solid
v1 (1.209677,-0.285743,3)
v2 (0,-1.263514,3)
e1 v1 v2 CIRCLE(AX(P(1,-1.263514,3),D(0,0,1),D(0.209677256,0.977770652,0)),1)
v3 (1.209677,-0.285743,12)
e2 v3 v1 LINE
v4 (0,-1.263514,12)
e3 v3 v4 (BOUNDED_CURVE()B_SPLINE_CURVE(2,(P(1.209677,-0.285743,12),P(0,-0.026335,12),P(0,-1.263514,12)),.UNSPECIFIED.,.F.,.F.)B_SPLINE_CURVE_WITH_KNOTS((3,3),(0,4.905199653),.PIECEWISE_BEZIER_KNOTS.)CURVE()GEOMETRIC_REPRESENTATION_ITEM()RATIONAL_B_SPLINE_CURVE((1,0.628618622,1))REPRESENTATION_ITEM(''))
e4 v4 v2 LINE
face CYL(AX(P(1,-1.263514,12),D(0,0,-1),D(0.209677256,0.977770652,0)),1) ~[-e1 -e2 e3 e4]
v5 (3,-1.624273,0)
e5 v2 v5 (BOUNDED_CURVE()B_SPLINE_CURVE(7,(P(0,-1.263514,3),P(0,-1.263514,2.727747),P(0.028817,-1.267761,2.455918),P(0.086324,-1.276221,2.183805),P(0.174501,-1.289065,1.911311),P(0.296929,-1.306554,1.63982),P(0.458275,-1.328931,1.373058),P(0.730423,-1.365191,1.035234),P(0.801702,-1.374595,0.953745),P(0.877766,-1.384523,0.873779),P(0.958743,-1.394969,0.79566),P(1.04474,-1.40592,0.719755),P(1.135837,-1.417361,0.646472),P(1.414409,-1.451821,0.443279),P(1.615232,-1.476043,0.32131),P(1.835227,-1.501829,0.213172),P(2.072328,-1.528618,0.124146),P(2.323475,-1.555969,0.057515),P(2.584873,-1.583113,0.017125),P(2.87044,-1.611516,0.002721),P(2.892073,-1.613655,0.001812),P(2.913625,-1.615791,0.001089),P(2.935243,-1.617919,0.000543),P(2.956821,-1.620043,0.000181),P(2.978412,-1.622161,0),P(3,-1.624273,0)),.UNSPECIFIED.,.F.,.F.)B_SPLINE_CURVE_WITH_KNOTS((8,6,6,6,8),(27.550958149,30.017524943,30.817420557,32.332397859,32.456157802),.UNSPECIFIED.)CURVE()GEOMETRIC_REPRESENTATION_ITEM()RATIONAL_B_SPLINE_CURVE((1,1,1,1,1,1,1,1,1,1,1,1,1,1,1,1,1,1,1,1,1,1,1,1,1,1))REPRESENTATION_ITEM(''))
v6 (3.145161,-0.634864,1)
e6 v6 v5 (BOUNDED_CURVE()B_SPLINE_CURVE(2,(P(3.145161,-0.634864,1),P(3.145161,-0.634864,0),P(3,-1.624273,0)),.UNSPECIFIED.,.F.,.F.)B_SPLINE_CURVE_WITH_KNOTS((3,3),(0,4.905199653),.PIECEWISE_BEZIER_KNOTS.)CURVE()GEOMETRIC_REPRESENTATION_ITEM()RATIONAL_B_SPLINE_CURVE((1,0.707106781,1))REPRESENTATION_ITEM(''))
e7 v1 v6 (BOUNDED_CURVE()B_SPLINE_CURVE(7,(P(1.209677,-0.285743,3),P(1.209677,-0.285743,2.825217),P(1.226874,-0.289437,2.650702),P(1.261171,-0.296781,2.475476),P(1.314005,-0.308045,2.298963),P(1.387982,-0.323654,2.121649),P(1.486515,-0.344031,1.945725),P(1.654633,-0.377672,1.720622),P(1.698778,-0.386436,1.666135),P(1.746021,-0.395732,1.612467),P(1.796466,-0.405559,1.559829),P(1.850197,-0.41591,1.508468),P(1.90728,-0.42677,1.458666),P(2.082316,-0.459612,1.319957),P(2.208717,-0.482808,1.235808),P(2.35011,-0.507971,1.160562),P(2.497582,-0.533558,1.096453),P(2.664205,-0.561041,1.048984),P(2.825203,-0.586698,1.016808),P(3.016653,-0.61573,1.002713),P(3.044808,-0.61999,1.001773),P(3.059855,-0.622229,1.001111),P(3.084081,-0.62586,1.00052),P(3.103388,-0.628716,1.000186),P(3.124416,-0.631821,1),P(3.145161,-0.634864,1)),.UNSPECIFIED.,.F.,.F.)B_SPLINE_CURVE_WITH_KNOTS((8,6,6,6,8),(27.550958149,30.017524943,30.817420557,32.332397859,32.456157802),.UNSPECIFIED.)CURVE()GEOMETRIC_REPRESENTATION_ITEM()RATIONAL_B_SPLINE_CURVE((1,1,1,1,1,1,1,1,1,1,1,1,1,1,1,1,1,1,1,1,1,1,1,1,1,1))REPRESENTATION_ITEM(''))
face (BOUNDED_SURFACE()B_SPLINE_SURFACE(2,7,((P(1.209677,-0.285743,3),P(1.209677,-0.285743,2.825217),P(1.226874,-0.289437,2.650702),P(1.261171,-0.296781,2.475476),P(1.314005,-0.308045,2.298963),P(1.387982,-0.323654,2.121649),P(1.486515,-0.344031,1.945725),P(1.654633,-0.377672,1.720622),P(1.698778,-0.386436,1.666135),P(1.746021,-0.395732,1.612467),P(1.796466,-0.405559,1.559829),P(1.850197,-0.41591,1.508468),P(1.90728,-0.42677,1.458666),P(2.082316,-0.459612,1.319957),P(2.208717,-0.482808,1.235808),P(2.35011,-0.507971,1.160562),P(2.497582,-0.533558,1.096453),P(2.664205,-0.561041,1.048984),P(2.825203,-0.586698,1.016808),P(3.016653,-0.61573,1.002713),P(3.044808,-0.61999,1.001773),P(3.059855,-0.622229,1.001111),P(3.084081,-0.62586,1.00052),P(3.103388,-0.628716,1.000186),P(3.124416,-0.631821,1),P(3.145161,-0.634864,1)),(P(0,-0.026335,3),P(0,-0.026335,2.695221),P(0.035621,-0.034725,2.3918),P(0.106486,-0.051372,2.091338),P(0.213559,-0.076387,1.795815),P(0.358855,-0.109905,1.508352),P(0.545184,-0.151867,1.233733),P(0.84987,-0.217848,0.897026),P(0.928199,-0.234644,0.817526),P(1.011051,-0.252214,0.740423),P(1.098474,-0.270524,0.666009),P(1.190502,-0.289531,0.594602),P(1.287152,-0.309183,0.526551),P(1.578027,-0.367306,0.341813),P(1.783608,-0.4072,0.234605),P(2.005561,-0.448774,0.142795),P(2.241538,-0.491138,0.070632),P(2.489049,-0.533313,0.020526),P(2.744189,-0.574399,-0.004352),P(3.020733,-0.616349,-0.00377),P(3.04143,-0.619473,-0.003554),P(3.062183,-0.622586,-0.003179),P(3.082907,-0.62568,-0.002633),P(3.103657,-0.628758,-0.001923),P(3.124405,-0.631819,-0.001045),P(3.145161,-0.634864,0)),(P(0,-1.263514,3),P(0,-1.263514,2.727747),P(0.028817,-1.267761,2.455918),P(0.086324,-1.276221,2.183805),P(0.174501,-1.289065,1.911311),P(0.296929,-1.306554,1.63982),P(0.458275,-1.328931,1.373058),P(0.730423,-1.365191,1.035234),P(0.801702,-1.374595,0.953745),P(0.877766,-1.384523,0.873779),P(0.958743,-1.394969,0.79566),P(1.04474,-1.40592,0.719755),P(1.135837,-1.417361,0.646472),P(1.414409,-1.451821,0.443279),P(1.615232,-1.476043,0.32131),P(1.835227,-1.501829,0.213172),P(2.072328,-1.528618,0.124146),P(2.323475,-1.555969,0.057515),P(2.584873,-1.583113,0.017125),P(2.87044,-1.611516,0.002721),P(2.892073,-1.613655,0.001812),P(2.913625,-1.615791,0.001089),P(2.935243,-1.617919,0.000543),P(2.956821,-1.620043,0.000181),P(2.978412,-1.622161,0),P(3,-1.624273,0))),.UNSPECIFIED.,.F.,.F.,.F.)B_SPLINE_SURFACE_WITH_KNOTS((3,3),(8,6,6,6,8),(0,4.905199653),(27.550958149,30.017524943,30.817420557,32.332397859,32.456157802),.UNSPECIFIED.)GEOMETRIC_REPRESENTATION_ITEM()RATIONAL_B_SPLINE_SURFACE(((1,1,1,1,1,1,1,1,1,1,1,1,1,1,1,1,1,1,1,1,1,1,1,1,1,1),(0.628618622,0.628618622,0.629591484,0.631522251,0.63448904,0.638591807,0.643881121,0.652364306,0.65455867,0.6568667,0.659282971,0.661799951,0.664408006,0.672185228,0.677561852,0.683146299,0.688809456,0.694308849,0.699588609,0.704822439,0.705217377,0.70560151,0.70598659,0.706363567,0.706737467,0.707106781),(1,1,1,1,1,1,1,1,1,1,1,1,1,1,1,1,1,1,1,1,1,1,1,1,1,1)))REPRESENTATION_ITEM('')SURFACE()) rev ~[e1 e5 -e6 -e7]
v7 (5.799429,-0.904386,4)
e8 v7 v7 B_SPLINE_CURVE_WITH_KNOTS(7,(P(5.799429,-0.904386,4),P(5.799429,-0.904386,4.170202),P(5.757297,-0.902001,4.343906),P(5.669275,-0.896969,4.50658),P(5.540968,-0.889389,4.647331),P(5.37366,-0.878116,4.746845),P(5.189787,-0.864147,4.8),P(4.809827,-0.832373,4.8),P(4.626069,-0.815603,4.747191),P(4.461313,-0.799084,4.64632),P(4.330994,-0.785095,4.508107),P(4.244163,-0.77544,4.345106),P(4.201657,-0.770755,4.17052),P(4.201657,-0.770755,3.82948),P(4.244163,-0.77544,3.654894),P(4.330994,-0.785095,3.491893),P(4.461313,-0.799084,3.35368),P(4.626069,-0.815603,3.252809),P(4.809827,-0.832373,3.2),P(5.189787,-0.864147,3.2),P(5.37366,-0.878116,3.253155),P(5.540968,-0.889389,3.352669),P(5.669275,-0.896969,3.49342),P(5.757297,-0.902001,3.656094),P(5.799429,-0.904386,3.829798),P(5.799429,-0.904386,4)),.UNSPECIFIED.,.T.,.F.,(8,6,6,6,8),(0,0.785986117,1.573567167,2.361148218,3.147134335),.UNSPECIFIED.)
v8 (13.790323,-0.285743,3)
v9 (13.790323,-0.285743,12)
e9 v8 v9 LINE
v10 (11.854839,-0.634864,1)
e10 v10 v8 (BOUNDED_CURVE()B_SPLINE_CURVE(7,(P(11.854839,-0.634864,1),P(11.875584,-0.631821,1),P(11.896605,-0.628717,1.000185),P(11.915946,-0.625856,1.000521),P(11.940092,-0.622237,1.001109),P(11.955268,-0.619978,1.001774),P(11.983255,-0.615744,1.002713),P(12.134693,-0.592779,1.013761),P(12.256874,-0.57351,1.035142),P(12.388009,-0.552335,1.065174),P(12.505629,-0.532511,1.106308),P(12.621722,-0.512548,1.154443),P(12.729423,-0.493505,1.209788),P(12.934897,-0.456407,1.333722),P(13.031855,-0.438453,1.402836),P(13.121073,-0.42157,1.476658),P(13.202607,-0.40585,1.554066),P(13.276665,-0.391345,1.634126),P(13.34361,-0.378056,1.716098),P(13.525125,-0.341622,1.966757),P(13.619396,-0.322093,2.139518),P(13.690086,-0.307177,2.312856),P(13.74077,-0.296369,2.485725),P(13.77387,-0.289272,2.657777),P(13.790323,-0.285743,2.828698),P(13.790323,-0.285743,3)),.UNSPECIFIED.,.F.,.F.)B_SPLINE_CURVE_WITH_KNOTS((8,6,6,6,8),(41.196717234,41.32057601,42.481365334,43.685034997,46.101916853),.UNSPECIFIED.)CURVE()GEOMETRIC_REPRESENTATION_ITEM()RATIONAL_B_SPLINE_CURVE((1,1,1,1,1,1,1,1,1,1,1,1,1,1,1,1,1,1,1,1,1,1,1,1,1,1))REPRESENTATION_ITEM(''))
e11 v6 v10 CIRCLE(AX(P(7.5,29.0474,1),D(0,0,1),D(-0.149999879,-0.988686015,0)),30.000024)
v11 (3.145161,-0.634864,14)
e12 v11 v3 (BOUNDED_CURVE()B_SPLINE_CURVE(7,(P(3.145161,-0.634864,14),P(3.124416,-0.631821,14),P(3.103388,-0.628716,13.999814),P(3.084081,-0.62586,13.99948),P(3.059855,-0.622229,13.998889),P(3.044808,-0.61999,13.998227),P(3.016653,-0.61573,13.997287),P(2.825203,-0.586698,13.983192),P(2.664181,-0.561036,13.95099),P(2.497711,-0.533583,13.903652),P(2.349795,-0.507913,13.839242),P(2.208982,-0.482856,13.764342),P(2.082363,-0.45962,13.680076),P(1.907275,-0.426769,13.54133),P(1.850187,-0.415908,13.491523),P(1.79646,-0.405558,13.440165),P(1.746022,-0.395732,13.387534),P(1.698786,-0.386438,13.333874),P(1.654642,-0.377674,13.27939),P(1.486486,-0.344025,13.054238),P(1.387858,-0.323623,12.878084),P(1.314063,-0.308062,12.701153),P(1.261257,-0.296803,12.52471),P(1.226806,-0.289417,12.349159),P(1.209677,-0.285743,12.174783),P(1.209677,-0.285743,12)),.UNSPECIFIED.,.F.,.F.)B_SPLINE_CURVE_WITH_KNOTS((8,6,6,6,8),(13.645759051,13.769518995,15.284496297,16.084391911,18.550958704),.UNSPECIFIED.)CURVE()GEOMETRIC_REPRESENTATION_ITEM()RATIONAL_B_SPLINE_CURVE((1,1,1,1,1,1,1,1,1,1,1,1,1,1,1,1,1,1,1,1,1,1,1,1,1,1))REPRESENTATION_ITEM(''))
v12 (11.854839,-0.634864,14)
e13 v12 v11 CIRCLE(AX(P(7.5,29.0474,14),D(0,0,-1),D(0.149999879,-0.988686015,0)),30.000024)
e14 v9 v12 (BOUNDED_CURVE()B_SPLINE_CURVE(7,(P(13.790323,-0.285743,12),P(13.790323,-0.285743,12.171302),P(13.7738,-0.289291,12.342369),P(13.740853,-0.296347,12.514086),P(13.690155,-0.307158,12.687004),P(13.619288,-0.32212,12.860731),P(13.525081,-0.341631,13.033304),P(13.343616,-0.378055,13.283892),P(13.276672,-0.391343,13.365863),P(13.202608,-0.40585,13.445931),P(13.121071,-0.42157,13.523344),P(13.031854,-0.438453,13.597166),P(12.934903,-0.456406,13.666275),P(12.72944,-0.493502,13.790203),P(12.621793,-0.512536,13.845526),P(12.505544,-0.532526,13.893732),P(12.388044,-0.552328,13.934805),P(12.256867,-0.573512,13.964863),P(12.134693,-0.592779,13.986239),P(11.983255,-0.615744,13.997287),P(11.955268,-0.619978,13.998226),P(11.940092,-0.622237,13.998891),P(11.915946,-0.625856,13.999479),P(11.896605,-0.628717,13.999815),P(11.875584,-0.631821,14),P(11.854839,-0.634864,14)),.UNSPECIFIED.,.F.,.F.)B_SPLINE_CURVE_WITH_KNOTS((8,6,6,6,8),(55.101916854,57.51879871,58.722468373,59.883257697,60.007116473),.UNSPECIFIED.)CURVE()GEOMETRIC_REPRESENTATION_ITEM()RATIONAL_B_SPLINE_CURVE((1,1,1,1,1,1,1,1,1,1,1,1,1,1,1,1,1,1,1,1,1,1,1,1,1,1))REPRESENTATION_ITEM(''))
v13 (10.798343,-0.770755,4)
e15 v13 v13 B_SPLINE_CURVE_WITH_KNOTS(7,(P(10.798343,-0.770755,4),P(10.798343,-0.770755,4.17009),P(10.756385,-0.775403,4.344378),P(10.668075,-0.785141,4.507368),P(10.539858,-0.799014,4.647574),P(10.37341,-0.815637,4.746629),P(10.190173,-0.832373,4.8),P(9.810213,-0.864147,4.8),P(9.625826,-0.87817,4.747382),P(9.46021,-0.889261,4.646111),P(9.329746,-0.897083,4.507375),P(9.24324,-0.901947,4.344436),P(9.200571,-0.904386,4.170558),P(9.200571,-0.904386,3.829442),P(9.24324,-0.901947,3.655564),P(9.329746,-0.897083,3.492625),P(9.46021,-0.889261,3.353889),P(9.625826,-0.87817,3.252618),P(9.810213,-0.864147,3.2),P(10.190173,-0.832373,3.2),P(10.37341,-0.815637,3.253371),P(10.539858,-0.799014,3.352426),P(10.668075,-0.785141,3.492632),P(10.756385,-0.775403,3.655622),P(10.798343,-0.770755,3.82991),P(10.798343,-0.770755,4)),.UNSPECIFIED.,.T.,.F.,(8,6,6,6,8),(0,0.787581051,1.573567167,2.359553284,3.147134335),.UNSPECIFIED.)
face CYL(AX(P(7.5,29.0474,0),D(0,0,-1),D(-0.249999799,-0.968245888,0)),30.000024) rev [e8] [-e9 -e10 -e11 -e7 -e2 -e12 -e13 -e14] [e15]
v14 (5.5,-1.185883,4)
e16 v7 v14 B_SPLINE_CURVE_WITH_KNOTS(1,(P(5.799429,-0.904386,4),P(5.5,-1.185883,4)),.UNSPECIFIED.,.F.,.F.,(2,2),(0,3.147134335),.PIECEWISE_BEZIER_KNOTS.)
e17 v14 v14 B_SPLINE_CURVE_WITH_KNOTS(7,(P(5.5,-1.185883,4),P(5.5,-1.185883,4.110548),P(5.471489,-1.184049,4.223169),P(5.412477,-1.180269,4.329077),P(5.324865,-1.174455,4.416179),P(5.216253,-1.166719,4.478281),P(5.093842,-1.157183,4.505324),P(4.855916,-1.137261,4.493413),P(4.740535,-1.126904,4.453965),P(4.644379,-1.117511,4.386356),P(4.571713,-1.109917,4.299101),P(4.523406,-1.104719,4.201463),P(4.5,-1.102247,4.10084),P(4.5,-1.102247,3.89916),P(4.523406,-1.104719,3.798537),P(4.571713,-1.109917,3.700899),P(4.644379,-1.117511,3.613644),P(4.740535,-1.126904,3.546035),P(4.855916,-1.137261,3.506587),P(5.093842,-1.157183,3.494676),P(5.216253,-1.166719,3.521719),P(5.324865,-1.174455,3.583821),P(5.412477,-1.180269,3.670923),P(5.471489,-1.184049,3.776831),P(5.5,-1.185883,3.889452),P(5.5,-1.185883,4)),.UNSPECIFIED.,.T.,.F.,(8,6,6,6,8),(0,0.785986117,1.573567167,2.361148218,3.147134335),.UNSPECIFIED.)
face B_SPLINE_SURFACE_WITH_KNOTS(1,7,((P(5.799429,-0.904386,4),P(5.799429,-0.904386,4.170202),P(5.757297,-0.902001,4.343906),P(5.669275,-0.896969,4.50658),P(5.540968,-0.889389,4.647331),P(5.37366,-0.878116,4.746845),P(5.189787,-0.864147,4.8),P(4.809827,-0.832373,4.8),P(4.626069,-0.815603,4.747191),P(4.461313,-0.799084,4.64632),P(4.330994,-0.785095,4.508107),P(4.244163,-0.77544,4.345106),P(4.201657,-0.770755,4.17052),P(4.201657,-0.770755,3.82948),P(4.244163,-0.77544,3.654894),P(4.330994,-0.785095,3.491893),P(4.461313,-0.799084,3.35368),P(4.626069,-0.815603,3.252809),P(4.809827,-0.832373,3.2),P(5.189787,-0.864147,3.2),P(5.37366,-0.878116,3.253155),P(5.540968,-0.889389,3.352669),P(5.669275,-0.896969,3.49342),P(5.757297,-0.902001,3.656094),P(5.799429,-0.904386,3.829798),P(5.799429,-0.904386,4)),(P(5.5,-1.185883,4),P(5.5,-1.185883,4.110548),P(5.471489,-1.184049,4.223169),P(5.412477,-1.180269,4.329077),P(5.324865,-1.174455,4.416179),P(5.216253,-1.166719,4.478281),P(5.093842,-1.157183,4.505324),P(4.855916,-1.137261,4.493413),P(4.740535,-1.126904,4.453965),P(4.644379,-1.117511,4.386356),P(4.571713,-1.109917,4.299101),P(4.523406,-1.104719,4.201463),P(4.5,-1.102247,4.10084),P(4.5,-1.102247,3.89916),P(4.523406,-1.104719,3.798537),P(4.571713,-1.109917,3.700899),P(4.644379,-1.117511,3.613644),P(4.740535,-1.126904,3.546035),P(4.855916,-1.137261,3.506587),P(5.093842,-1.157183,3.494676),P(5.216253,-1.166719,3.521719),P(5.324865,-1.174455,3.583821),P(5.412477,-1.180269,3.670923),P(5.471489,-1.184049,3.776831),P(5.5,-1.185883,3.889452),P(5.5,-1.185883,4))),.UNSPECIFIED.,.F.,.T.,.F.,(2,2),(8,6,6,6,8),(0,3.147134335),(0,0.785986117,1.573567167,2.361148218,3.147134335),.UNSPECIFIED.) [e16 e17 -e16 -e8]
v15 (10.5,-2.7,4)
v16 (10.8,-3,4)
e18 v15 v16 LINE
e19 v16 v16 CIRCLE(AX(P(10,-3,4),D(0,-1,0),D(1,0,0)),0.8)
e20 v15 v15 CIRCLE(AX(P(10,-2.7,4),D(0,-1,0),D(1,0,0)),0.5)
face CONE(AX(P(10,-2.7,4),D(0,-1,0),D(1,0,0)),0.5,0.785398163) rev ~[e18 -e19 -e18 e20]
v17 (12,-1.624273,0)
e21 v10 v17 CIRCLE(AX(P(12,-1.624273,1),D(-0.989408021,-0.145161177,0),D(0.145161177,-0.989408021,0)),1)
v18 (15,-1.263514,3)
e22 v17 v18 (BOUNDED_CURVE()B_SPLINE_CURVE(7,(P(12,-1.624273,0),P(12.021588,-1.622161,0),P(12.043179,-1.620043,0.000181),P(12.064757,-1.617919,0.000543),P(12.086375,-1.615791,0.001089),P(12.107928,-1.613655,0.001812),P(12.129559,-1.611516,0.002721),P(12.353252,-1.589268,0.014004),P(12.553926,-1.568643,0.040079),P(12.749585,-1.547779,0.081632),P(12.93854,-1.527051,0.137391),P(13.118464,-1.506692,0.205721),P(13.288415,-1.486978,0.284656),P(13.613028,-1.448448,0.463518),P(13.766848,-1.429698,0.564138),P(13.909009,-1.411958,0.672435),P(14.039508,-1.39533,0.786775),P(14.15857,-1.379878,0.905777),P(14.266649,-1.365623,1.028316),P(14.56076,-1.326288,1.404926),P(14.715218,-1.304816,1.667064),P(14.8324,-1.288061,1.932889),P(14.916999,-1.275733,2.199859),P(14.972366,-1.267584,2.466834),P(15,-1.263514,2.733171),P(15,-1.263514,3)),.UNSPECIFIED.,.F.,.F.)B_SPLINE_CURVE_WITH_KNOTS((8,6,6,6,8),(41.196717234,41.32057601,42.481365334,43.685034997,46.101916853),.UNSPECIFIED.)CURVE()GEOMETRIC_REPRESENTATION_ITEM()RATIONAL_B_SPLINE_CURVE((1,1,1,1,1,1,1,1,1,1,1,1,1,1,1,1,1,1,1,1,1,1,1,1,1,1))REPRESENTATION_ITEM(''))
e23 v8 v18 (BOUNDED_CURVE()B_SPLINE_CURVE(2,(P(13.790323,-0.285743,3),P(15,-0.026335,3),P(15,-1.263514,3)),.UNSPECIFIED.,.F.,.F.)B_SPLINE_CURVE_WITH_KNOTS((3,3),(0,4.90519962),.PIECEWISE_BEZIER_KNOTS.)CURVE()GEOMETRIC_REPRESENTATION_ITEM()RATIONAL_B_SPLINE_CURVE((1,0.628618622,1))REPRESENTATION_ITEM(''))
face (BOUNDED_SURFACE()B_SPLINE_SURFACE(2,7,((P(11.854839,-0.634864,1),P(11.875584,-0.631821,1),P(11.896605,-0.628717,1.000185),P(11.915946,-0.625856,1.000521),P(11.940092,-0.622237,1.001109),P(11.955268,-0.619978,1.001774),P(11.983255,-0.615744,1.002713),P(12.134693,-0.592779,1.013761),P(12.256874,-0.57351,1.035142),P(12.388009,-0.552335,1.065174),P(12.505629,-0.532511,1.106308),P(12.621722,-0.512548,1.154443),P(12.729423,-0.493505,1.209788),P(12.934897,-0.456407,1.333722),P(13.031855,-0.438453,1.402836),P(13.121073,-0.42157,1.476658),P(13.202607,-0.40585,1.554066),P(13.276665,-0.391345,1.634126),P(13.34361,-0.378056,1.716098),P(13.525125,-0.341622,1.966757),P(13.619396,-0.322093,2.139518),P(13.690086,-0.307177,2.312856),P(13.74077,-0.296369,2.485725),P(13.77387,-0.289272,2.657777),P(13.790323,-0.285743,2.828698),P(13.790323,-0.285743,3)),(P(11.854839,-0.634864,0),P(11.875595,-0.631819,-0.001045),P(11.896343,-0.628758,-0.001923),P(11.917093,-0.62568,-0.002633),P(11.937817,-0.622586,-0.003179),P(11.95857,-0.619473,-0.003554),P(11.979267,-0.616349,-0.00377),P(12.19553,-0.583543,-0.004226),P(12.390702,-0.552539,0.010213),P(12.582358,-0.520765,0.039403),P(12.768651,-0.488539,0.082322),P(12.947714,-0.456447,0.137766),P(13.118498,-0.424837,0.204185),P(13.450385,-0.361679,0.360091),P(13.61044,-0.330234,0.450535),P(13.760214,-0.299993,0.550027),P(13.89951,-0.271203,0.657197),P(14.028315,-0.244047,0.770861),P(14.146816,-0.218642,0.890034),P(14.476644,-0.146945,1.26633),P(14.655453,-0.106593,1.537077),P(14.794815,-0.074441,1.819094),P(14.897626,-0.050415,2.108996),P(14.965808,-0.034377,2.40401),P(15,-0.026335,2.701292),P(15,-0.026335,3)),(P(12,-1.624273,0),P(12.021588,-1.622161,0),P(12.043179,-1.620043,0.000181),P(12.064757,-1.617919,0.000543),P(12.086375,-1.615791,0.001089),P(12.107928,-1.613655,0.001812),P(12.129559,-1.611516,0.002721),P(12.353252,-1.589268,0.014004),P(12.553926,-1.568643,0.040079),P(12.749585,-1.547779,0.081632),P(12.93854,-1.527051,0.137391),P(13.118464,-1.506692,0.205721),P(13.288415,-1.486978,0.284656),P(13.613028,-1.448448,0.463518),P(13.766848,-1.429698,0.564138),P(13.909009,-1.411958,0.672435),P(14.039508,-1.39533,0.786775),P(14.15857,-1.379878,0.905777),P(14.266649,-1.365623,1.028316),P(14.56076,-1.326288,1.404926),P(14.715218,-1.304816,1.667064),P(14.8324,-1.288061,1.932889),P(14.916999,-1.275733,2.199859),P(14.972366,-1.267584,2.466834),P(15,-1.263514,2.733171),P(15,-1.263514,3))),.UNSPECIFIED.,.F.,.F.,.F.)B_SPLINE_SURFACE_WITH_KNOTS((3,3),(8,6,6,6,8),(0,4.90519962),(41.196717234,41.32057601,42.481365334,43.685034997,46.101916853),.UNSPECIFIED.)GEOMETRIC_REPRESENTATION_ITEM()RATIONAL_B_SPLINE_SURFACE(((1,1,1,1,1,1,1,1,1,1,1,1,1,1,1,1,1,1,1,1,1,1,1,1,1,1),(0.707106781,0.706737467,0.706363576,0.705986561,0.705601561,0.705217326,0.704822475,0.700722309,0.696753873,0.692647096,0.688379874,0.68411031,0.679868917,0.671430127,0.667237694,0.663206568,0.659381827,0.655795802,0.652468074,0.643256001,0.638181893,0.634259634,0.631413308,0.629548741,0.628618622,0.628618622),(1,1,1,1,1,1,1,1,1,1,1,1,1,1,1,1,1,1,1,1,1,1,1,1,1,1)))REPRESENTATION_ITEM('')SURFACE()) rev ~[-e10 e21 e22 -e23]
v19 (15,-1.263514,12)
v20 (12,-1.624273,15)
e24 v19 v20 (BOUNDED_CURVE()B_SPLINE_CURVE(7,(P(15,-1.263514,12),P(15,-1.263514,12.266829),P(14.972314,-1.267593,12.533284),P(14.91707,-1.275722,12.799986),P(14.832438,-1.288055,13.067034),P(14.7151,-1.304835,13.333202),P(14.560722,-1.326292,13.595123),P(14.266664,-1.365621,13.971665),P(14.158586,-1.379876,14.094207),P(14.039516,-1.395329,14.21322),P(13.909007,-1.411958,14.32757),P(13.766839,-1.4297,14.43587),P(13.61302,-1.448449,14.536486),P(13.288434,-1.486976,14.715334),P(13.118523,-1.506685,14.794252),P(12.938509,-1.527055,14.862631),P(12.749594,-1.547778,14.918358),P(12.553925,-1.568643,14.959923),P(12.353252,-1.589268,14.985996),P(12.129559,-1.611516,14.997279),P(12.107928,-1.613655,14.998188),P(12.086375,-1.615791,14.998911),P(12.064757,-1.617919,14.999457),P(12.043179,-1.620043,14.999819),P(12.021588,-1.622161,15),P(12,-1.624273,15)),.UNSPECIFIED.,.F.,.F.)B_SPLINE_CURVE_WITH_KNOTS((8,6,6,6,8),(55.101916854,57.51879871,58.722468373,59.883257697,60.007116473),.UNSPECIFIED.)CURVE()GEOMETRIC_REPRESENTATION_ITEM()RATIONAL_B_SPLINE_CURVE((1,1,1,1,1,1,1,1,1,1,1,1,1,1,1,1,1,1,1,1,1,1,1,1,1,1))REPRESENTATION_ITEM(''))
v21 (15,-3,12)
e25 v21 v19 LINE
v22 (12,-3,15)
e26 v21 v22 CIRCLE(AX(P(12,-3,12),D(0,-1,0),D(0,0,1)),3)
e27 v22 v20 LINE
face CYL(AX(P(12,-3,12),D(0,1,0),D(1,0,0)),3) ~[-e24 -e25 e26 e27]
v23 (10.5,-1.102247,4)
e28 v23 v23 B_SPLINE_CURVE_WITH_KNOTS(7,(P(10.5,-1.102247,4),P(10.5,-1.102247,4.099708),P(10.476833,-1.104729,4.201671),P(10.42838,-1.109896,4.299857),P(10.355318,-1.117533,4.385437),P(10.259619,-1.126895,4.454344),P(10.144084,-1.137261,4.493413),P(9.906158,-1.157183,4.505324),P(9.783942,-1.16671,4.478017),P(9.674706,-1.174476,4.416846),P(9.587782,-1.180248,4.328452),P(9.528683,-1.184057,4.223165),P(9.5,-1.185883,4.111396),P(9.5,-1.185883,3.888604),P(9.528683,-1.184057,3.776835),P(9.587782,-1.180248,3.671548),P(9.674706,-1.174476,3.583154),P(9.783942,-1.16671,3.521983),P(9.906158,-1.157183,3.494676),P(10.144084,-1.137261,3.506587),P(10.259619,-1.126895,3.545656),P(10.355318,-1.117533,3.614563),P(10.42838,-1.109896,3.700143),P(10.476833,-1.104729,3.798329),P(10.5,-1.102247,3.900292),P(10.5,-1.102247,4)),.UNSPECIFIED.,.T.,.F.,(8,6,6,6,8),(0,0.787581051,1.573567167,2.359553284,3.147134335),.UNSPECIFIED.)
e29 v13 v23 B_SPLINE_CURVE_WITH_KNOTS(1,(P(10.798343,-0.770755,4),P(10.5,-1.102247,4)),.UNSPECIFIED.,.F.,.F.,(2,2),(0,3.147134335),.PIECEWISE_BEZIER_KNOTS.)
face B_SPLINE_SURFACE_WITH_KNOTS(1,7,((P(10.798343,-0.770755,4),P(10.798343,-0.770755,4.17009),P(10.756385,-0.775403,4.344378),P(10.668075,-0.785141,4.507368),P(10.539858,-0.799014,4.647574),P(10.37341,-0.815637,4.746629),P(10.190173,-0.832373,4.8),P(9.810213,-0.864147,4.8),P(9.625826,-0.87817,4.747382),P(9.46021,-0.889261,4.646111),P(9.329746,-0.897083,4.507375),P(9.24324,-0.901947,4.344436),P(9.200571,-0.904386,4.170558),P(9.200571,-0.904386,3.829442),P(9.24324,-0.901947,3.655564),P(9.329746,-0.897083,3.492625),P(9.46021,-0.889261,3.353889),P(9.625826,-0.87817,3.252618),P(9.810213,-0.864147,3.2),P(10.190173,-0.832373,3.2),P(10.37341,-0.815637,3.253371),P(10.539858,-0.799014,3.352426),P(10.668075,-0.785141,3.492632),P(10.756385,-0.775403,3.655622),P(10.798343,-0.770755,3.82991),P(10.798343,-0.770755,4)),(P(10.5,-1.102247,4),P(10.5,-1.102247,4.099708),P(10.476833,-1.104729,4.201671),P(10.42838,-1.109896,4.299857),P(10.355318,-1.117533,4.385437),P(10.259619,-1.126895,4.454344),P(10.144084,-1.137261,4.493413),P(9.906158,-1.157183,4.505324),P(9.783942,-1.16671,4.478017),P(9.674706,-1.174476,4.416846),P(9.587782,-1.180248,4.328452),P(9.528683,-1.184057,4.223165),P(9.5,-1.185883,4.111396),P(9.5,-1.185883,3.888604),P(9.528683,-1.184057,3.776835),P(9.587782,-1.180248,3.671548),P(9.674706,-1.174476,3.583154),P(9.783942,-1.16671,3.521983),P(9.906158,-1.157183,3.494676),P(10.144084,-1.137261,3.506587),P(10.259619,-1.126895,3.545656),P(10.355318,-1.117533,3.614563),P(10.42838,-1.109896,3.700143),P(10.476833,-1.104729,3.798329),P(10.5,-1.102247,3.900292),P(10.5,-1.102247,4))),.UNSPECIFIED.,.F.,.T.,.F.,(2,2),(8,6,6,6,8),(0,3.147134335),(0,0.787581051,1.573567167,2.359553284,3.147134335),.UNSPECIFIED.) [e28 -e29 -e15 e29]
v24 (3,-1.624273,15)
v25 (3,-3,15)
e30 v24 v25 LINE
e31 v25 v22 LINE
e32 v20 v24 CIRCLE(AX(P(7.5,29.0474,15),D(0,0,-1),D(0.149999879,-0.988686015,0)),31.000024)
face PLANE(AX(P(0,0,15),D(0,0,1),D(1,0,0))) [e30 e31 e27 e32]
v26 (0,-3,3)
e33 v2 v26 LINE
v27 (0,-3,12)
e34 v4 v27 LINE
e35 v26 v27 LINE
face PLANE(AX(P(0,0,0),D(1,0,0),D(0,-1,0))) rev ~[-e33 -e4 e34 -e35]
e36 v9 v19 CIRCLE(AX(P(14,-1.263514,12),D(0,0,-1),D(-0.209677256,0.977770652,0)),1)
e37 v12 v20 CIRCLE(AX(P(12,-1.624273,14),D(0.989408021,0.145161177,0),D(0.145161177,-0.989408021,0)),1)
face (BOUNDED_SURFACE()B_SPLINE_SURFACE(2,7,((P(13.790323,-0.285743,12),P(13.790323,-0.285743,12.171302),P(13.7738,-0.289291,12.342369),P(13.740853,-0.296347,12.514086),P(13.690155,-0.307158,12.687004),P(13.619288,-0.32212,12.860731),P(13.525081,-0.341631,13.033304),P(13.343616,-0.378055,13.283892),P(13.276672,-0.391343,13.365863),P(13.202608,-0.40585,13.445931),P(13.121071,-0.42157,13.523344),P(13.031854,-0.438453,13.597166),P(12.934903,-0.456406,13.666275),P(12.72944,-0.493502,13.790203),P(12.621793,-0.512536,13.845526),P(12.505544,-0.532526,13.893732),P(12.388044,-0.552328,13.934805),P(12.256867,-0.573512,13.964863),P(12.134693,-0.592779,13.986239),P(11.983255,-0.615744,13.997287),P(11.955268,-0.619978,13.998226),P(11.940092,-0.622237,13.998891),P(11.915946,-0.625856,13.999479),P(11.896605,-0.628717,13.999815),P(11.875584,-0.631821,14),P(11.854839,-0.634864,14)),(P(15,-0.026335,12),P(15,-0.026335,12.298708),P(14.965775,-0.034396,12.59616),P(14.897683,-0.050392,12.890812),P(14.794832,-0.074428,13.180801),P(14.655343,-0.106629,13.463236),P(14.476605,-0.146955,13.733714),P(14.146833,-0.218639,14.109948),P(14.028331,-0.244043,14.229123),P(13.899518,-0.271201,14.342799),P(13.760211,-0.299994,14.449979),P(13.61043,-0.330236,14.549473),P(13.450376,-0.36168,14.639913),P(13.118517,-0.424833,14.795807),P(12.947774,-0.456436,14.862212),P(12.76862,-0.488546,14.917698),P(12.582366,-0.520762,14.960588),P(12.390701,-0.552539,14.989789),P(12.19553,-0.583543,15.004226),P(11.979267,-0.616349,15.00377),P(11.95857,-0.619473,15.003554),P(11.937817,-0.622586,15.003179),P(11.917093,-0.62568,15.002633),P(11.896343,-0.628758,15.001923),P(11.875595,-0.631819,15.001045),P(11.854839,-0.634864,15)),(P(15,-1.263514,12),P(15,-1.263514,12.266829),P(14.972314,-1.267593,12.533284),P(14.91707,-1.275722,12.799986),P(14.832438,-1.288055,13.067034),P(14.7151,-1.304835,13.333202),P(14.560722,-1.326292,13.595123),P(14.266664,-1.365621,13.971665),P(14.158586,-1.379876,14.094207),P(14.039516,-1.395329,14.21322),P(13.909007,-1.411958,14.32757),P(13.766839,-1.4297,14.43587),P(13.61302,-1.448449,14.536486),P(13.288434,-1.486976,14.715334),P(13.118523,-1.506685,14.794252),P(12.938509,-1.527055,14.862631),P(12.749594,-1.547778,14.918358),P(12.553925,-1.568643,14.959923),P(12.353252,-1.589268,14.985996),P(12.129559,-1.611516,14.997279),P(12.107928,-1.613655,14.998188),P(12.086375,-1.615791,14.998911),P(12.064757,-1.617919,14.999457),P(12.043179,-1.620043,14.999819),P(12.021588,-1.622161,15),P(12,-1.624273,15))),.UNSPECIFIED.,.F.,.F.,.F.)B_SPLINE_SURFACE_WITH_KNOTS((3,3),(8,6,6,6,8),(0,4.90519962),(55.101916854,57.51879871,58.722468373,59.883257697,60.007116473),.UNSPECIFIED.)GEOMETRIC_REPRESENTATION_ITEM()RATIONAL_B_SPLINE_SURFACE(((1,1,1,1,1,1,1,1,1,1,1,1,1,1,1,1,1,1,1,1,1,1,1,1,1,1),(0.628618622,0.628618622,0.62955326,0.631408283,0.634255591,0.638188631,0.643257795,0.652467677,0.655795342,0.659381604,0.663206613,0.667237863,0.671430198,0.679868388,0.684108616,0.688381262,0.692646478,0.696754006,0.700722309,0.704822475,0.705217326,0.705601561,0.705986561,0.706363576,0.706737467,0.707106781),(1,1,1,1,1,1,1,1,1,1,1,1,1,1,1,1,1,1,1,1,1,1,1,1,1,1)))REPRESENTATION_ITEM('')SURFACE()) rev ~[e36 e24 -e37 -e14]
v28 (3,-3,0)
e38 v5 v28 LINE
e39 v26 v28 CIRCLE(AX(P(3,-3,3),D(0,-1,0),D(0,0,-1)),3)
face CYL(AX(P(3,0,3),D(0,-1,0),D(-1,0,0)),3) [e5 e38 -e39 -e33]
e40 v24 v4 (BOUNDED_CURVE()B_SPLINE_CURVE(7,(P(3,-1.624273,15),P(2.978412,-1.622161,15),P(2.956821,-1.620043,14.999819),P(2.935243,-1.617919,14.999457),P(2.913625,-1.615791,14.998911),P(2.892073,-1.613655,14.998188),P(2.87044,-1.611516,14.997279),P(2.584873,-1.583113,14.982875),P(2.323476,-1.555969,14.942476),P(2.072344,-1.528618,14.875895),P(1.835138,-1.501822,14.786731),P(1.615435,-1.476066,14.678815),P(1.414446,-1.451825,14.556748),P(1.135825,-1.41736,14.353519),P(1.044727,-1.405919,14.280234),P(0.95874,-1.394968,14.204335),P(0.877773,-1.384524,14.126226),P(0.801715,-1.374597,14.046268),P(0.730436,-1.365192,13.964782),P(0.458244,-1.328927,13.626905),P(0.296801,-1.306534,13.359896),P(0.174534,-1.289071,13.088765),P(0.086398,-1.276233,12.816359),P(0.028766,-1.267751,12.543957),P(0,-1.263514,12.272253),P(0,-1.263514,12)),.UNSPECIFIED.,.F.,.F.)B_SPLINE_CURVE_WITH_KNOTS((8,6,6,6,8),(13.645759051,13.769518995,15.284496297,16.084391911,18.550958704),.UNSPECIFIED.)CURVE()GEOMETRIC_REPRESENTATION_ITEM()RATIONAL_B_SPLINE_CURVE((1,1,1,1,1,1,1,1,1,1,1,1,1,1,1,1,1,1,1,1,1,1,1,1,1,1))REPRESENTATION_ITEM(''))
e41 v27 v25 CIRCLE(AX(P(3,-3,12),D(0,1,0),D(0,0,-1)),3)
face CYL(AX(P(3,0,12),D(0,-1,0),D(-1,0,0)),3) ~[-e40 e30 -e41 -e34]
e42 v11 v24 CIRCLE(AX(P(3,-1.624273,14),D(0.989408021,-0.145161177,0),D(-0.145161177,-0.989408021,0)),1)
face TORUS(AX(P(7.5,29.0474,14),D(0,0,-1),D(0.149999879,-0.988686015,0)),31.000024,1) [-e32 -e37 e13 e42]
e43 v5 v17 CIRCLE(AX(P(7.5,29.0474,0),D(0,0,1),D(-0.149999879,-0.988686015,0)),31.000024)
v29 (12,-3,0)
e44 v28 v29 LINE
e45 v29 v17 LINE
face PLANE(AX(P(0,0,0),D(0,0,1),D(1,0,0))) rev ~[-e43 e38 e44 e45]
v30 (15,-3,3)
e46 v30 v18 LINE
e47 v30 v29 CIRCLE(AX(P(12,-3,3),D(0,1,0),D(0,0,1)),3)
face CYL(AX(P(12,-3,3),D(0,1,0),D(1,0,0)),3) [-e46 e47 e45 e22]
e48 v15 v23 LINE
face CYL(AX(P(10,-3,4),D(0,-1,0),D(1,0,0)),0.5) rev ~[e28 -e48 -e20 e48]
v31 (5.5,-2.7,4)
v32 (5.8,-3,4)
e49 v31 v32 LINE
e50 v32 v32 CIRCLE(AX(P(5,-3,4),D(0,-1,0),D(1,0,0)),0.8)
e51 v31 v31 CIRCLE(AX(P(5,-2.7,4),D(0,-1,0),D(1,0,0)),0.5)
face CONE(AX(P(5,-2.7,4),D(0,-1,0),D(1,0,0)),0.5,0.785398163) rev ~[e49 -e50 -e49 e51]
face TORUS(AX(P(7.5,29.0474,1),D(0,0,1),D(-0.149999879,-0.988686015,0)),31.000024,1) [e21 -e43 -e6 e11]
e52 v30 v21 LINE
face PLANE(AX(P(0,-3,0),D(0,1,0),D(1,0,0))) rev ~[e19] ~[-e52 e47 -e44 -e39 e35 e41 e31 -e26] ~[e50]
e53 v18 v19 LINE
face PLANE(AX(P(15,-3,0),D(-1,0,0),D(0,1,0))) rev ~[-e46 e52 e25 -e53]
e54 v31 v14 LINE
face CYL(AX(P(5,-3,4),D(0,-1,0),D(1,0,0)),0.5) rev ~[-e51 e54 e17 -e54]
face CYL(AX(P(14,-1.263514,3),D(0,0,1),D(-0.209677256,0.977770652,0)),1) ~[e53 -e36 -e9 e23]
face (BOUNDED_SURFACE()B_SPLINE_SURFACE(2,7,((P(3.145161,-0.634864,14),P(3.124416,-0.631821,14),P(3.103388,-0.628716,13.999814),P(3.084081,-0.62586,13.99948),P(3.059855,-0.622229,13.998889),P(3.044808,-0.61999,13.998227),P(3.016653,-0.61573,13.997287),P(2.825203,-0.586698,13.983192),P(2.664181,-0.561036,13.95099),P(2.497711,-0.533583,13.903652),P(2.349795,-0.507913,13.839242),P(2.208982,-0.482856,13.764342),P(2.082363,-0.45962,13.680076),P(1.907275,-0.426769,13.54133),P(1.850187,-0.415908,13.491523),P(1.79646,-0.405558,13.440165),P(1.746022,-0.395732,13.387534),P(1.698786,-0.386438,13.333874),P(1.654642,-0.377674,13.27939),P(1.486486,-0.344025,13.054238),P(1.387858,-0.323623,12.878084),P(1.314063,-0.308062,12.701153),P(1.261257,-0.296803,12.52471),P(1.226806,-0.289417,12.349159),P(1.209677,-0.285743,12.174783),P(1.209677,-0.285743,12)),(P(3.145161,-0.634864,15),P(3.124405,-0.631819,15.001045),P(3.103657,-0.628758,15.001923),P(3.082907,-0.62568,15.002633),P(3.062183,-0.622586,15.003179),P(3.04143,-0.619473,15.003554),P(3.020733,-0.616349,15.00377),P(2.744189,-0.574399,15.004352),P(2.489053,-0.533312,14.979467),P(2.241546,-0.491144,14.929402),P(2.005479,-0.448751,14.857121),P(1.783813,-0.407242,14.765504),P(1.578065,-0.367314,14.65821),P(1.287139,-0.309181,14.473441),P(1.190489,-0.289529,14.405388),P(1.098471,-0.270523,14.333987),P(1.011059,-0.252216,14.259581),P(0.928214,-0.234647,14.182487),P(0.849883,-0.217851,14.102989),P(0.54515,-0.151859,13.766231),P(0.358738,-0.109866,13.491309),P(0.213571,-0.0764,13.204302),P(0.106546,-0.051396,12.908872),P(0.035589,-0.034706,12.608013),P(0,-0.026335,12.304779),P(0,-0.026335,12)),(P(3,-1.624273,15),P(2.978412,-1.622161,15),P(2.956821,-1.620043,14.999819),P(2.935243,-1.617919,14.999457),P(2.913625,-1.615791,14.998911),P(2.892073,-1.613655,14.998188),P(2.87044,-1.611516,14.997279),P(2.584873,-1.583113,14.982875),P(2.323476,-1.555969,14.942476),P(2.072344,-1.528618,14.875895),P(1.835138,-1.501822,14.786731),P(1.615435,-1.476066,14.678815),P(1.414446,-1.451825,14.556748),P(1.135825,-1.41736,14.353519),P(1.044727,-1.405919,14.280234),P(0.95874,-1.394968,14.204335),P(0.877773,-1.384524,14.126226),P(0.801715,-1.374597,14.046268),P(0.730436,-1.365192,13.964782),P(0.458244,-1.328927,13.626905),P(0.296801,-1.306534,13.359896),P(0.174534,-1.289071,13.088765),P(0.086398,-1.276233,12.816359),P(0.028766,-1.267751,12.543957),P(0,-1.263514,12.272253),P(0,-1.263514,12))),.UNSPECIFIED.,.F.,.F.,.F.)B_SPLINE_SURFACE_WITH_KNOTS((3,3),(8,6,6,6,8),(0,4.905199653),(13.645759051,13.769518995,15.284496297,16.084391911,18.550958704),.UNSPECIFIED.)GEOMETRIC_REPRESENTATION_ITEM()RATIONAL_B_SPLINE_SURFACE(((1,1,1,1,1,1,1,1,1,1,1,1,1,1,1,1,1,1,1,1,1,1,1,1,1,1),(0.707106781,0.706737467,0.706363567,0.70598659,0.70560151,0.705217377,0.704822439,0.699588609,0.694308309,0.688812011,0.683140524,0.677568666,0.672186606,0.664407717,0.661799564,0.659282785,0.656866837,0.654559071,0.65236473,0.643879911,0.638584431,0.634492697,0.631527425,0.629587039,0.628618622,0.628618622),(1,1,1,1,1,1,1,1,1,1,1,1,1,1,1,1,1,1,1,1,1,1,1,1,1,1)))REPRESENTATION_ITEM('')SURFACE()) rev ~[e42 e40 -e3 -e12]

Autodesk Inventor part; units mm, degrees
ref_plane "YZ Plane" through (0, 0, 0) normal (1, 0, 0) x (0, 1, 0)
ref_plane "XZ Plane" through (0, 0, 0) normal (0, 1, 0) x (-1, 0, 0)
ref_plane "XY Plane" through (0, 0, 0) normal (0, 0, 1) x (1, 0, 0)
sketch "Sketch1" plane through (0, 0, 0) normal (0, 0, 1) x (1, 0, 0)
  arc A0 (0, 0) -> (15, 0) centre (7.5, 29.0474) ccw
  line L0 (0, 0) -> (0, -3)
  line L1 (0, -3) -> (15, -3)
  line L2 (15, -3) -> (15, 0)
  line L3 (15, 0) -> (0, 0) construction
  dimension "d0" = 15
  dimension "d1" = 30
  dimension "d2" = 3
extrude "Extrusion1" add sketch "Sketch1" along normal blind 15
fillet "Fillet1" radius 3 4 edges at (15, -1.5, 15) (0, -1.5, 15) (0, -1.5, 0) (15, -1.5, 0)
fillet "Fillet2" radius 1 8 edges at (14.2673, -0.1794, 13.9645) (7.5, -0.9526, 15) (0.7332, -0.1795, 13.9651) (0, 0, 7.5) (0.7332, -0.1795, 1.0349) (7.5, -0.9526, 0) (14.2673, -0.1794, 1.0355) (15, 0, 7.5)
sketch "Sketch2" plane through (3, -3, 0) normal (0, -1, 0) x (1, 0, 0)
  line L0 (0, 0) -> (9, 0) projected
  line L1 (4.5, 0) -> (4.5, 4) construction
  line L2 (4.5, 4) -> (2, 4) construction
  line L3 (4.5, 4) -> (7, 4) construction
  circle A0 centre (2, 4) radius 0.5
  circle A1 centre (7, 4) radius 0.5
  point P0 (-3, 0)
  dimension "d7" = 1
  dimension "d8" = 5
  dimension "d9" = 4
extrude "Extrusion2" cut sketch "Sketch2" against normal through all
chamfer "Chamfer1" distance 0.3 angle 45 4 edges at (9.5, -3, 4) (4.5, -3, 4) (9.5, -0.8859, 4) (4.5, -0.8022, 4)
properties part number "fakekeycap"
